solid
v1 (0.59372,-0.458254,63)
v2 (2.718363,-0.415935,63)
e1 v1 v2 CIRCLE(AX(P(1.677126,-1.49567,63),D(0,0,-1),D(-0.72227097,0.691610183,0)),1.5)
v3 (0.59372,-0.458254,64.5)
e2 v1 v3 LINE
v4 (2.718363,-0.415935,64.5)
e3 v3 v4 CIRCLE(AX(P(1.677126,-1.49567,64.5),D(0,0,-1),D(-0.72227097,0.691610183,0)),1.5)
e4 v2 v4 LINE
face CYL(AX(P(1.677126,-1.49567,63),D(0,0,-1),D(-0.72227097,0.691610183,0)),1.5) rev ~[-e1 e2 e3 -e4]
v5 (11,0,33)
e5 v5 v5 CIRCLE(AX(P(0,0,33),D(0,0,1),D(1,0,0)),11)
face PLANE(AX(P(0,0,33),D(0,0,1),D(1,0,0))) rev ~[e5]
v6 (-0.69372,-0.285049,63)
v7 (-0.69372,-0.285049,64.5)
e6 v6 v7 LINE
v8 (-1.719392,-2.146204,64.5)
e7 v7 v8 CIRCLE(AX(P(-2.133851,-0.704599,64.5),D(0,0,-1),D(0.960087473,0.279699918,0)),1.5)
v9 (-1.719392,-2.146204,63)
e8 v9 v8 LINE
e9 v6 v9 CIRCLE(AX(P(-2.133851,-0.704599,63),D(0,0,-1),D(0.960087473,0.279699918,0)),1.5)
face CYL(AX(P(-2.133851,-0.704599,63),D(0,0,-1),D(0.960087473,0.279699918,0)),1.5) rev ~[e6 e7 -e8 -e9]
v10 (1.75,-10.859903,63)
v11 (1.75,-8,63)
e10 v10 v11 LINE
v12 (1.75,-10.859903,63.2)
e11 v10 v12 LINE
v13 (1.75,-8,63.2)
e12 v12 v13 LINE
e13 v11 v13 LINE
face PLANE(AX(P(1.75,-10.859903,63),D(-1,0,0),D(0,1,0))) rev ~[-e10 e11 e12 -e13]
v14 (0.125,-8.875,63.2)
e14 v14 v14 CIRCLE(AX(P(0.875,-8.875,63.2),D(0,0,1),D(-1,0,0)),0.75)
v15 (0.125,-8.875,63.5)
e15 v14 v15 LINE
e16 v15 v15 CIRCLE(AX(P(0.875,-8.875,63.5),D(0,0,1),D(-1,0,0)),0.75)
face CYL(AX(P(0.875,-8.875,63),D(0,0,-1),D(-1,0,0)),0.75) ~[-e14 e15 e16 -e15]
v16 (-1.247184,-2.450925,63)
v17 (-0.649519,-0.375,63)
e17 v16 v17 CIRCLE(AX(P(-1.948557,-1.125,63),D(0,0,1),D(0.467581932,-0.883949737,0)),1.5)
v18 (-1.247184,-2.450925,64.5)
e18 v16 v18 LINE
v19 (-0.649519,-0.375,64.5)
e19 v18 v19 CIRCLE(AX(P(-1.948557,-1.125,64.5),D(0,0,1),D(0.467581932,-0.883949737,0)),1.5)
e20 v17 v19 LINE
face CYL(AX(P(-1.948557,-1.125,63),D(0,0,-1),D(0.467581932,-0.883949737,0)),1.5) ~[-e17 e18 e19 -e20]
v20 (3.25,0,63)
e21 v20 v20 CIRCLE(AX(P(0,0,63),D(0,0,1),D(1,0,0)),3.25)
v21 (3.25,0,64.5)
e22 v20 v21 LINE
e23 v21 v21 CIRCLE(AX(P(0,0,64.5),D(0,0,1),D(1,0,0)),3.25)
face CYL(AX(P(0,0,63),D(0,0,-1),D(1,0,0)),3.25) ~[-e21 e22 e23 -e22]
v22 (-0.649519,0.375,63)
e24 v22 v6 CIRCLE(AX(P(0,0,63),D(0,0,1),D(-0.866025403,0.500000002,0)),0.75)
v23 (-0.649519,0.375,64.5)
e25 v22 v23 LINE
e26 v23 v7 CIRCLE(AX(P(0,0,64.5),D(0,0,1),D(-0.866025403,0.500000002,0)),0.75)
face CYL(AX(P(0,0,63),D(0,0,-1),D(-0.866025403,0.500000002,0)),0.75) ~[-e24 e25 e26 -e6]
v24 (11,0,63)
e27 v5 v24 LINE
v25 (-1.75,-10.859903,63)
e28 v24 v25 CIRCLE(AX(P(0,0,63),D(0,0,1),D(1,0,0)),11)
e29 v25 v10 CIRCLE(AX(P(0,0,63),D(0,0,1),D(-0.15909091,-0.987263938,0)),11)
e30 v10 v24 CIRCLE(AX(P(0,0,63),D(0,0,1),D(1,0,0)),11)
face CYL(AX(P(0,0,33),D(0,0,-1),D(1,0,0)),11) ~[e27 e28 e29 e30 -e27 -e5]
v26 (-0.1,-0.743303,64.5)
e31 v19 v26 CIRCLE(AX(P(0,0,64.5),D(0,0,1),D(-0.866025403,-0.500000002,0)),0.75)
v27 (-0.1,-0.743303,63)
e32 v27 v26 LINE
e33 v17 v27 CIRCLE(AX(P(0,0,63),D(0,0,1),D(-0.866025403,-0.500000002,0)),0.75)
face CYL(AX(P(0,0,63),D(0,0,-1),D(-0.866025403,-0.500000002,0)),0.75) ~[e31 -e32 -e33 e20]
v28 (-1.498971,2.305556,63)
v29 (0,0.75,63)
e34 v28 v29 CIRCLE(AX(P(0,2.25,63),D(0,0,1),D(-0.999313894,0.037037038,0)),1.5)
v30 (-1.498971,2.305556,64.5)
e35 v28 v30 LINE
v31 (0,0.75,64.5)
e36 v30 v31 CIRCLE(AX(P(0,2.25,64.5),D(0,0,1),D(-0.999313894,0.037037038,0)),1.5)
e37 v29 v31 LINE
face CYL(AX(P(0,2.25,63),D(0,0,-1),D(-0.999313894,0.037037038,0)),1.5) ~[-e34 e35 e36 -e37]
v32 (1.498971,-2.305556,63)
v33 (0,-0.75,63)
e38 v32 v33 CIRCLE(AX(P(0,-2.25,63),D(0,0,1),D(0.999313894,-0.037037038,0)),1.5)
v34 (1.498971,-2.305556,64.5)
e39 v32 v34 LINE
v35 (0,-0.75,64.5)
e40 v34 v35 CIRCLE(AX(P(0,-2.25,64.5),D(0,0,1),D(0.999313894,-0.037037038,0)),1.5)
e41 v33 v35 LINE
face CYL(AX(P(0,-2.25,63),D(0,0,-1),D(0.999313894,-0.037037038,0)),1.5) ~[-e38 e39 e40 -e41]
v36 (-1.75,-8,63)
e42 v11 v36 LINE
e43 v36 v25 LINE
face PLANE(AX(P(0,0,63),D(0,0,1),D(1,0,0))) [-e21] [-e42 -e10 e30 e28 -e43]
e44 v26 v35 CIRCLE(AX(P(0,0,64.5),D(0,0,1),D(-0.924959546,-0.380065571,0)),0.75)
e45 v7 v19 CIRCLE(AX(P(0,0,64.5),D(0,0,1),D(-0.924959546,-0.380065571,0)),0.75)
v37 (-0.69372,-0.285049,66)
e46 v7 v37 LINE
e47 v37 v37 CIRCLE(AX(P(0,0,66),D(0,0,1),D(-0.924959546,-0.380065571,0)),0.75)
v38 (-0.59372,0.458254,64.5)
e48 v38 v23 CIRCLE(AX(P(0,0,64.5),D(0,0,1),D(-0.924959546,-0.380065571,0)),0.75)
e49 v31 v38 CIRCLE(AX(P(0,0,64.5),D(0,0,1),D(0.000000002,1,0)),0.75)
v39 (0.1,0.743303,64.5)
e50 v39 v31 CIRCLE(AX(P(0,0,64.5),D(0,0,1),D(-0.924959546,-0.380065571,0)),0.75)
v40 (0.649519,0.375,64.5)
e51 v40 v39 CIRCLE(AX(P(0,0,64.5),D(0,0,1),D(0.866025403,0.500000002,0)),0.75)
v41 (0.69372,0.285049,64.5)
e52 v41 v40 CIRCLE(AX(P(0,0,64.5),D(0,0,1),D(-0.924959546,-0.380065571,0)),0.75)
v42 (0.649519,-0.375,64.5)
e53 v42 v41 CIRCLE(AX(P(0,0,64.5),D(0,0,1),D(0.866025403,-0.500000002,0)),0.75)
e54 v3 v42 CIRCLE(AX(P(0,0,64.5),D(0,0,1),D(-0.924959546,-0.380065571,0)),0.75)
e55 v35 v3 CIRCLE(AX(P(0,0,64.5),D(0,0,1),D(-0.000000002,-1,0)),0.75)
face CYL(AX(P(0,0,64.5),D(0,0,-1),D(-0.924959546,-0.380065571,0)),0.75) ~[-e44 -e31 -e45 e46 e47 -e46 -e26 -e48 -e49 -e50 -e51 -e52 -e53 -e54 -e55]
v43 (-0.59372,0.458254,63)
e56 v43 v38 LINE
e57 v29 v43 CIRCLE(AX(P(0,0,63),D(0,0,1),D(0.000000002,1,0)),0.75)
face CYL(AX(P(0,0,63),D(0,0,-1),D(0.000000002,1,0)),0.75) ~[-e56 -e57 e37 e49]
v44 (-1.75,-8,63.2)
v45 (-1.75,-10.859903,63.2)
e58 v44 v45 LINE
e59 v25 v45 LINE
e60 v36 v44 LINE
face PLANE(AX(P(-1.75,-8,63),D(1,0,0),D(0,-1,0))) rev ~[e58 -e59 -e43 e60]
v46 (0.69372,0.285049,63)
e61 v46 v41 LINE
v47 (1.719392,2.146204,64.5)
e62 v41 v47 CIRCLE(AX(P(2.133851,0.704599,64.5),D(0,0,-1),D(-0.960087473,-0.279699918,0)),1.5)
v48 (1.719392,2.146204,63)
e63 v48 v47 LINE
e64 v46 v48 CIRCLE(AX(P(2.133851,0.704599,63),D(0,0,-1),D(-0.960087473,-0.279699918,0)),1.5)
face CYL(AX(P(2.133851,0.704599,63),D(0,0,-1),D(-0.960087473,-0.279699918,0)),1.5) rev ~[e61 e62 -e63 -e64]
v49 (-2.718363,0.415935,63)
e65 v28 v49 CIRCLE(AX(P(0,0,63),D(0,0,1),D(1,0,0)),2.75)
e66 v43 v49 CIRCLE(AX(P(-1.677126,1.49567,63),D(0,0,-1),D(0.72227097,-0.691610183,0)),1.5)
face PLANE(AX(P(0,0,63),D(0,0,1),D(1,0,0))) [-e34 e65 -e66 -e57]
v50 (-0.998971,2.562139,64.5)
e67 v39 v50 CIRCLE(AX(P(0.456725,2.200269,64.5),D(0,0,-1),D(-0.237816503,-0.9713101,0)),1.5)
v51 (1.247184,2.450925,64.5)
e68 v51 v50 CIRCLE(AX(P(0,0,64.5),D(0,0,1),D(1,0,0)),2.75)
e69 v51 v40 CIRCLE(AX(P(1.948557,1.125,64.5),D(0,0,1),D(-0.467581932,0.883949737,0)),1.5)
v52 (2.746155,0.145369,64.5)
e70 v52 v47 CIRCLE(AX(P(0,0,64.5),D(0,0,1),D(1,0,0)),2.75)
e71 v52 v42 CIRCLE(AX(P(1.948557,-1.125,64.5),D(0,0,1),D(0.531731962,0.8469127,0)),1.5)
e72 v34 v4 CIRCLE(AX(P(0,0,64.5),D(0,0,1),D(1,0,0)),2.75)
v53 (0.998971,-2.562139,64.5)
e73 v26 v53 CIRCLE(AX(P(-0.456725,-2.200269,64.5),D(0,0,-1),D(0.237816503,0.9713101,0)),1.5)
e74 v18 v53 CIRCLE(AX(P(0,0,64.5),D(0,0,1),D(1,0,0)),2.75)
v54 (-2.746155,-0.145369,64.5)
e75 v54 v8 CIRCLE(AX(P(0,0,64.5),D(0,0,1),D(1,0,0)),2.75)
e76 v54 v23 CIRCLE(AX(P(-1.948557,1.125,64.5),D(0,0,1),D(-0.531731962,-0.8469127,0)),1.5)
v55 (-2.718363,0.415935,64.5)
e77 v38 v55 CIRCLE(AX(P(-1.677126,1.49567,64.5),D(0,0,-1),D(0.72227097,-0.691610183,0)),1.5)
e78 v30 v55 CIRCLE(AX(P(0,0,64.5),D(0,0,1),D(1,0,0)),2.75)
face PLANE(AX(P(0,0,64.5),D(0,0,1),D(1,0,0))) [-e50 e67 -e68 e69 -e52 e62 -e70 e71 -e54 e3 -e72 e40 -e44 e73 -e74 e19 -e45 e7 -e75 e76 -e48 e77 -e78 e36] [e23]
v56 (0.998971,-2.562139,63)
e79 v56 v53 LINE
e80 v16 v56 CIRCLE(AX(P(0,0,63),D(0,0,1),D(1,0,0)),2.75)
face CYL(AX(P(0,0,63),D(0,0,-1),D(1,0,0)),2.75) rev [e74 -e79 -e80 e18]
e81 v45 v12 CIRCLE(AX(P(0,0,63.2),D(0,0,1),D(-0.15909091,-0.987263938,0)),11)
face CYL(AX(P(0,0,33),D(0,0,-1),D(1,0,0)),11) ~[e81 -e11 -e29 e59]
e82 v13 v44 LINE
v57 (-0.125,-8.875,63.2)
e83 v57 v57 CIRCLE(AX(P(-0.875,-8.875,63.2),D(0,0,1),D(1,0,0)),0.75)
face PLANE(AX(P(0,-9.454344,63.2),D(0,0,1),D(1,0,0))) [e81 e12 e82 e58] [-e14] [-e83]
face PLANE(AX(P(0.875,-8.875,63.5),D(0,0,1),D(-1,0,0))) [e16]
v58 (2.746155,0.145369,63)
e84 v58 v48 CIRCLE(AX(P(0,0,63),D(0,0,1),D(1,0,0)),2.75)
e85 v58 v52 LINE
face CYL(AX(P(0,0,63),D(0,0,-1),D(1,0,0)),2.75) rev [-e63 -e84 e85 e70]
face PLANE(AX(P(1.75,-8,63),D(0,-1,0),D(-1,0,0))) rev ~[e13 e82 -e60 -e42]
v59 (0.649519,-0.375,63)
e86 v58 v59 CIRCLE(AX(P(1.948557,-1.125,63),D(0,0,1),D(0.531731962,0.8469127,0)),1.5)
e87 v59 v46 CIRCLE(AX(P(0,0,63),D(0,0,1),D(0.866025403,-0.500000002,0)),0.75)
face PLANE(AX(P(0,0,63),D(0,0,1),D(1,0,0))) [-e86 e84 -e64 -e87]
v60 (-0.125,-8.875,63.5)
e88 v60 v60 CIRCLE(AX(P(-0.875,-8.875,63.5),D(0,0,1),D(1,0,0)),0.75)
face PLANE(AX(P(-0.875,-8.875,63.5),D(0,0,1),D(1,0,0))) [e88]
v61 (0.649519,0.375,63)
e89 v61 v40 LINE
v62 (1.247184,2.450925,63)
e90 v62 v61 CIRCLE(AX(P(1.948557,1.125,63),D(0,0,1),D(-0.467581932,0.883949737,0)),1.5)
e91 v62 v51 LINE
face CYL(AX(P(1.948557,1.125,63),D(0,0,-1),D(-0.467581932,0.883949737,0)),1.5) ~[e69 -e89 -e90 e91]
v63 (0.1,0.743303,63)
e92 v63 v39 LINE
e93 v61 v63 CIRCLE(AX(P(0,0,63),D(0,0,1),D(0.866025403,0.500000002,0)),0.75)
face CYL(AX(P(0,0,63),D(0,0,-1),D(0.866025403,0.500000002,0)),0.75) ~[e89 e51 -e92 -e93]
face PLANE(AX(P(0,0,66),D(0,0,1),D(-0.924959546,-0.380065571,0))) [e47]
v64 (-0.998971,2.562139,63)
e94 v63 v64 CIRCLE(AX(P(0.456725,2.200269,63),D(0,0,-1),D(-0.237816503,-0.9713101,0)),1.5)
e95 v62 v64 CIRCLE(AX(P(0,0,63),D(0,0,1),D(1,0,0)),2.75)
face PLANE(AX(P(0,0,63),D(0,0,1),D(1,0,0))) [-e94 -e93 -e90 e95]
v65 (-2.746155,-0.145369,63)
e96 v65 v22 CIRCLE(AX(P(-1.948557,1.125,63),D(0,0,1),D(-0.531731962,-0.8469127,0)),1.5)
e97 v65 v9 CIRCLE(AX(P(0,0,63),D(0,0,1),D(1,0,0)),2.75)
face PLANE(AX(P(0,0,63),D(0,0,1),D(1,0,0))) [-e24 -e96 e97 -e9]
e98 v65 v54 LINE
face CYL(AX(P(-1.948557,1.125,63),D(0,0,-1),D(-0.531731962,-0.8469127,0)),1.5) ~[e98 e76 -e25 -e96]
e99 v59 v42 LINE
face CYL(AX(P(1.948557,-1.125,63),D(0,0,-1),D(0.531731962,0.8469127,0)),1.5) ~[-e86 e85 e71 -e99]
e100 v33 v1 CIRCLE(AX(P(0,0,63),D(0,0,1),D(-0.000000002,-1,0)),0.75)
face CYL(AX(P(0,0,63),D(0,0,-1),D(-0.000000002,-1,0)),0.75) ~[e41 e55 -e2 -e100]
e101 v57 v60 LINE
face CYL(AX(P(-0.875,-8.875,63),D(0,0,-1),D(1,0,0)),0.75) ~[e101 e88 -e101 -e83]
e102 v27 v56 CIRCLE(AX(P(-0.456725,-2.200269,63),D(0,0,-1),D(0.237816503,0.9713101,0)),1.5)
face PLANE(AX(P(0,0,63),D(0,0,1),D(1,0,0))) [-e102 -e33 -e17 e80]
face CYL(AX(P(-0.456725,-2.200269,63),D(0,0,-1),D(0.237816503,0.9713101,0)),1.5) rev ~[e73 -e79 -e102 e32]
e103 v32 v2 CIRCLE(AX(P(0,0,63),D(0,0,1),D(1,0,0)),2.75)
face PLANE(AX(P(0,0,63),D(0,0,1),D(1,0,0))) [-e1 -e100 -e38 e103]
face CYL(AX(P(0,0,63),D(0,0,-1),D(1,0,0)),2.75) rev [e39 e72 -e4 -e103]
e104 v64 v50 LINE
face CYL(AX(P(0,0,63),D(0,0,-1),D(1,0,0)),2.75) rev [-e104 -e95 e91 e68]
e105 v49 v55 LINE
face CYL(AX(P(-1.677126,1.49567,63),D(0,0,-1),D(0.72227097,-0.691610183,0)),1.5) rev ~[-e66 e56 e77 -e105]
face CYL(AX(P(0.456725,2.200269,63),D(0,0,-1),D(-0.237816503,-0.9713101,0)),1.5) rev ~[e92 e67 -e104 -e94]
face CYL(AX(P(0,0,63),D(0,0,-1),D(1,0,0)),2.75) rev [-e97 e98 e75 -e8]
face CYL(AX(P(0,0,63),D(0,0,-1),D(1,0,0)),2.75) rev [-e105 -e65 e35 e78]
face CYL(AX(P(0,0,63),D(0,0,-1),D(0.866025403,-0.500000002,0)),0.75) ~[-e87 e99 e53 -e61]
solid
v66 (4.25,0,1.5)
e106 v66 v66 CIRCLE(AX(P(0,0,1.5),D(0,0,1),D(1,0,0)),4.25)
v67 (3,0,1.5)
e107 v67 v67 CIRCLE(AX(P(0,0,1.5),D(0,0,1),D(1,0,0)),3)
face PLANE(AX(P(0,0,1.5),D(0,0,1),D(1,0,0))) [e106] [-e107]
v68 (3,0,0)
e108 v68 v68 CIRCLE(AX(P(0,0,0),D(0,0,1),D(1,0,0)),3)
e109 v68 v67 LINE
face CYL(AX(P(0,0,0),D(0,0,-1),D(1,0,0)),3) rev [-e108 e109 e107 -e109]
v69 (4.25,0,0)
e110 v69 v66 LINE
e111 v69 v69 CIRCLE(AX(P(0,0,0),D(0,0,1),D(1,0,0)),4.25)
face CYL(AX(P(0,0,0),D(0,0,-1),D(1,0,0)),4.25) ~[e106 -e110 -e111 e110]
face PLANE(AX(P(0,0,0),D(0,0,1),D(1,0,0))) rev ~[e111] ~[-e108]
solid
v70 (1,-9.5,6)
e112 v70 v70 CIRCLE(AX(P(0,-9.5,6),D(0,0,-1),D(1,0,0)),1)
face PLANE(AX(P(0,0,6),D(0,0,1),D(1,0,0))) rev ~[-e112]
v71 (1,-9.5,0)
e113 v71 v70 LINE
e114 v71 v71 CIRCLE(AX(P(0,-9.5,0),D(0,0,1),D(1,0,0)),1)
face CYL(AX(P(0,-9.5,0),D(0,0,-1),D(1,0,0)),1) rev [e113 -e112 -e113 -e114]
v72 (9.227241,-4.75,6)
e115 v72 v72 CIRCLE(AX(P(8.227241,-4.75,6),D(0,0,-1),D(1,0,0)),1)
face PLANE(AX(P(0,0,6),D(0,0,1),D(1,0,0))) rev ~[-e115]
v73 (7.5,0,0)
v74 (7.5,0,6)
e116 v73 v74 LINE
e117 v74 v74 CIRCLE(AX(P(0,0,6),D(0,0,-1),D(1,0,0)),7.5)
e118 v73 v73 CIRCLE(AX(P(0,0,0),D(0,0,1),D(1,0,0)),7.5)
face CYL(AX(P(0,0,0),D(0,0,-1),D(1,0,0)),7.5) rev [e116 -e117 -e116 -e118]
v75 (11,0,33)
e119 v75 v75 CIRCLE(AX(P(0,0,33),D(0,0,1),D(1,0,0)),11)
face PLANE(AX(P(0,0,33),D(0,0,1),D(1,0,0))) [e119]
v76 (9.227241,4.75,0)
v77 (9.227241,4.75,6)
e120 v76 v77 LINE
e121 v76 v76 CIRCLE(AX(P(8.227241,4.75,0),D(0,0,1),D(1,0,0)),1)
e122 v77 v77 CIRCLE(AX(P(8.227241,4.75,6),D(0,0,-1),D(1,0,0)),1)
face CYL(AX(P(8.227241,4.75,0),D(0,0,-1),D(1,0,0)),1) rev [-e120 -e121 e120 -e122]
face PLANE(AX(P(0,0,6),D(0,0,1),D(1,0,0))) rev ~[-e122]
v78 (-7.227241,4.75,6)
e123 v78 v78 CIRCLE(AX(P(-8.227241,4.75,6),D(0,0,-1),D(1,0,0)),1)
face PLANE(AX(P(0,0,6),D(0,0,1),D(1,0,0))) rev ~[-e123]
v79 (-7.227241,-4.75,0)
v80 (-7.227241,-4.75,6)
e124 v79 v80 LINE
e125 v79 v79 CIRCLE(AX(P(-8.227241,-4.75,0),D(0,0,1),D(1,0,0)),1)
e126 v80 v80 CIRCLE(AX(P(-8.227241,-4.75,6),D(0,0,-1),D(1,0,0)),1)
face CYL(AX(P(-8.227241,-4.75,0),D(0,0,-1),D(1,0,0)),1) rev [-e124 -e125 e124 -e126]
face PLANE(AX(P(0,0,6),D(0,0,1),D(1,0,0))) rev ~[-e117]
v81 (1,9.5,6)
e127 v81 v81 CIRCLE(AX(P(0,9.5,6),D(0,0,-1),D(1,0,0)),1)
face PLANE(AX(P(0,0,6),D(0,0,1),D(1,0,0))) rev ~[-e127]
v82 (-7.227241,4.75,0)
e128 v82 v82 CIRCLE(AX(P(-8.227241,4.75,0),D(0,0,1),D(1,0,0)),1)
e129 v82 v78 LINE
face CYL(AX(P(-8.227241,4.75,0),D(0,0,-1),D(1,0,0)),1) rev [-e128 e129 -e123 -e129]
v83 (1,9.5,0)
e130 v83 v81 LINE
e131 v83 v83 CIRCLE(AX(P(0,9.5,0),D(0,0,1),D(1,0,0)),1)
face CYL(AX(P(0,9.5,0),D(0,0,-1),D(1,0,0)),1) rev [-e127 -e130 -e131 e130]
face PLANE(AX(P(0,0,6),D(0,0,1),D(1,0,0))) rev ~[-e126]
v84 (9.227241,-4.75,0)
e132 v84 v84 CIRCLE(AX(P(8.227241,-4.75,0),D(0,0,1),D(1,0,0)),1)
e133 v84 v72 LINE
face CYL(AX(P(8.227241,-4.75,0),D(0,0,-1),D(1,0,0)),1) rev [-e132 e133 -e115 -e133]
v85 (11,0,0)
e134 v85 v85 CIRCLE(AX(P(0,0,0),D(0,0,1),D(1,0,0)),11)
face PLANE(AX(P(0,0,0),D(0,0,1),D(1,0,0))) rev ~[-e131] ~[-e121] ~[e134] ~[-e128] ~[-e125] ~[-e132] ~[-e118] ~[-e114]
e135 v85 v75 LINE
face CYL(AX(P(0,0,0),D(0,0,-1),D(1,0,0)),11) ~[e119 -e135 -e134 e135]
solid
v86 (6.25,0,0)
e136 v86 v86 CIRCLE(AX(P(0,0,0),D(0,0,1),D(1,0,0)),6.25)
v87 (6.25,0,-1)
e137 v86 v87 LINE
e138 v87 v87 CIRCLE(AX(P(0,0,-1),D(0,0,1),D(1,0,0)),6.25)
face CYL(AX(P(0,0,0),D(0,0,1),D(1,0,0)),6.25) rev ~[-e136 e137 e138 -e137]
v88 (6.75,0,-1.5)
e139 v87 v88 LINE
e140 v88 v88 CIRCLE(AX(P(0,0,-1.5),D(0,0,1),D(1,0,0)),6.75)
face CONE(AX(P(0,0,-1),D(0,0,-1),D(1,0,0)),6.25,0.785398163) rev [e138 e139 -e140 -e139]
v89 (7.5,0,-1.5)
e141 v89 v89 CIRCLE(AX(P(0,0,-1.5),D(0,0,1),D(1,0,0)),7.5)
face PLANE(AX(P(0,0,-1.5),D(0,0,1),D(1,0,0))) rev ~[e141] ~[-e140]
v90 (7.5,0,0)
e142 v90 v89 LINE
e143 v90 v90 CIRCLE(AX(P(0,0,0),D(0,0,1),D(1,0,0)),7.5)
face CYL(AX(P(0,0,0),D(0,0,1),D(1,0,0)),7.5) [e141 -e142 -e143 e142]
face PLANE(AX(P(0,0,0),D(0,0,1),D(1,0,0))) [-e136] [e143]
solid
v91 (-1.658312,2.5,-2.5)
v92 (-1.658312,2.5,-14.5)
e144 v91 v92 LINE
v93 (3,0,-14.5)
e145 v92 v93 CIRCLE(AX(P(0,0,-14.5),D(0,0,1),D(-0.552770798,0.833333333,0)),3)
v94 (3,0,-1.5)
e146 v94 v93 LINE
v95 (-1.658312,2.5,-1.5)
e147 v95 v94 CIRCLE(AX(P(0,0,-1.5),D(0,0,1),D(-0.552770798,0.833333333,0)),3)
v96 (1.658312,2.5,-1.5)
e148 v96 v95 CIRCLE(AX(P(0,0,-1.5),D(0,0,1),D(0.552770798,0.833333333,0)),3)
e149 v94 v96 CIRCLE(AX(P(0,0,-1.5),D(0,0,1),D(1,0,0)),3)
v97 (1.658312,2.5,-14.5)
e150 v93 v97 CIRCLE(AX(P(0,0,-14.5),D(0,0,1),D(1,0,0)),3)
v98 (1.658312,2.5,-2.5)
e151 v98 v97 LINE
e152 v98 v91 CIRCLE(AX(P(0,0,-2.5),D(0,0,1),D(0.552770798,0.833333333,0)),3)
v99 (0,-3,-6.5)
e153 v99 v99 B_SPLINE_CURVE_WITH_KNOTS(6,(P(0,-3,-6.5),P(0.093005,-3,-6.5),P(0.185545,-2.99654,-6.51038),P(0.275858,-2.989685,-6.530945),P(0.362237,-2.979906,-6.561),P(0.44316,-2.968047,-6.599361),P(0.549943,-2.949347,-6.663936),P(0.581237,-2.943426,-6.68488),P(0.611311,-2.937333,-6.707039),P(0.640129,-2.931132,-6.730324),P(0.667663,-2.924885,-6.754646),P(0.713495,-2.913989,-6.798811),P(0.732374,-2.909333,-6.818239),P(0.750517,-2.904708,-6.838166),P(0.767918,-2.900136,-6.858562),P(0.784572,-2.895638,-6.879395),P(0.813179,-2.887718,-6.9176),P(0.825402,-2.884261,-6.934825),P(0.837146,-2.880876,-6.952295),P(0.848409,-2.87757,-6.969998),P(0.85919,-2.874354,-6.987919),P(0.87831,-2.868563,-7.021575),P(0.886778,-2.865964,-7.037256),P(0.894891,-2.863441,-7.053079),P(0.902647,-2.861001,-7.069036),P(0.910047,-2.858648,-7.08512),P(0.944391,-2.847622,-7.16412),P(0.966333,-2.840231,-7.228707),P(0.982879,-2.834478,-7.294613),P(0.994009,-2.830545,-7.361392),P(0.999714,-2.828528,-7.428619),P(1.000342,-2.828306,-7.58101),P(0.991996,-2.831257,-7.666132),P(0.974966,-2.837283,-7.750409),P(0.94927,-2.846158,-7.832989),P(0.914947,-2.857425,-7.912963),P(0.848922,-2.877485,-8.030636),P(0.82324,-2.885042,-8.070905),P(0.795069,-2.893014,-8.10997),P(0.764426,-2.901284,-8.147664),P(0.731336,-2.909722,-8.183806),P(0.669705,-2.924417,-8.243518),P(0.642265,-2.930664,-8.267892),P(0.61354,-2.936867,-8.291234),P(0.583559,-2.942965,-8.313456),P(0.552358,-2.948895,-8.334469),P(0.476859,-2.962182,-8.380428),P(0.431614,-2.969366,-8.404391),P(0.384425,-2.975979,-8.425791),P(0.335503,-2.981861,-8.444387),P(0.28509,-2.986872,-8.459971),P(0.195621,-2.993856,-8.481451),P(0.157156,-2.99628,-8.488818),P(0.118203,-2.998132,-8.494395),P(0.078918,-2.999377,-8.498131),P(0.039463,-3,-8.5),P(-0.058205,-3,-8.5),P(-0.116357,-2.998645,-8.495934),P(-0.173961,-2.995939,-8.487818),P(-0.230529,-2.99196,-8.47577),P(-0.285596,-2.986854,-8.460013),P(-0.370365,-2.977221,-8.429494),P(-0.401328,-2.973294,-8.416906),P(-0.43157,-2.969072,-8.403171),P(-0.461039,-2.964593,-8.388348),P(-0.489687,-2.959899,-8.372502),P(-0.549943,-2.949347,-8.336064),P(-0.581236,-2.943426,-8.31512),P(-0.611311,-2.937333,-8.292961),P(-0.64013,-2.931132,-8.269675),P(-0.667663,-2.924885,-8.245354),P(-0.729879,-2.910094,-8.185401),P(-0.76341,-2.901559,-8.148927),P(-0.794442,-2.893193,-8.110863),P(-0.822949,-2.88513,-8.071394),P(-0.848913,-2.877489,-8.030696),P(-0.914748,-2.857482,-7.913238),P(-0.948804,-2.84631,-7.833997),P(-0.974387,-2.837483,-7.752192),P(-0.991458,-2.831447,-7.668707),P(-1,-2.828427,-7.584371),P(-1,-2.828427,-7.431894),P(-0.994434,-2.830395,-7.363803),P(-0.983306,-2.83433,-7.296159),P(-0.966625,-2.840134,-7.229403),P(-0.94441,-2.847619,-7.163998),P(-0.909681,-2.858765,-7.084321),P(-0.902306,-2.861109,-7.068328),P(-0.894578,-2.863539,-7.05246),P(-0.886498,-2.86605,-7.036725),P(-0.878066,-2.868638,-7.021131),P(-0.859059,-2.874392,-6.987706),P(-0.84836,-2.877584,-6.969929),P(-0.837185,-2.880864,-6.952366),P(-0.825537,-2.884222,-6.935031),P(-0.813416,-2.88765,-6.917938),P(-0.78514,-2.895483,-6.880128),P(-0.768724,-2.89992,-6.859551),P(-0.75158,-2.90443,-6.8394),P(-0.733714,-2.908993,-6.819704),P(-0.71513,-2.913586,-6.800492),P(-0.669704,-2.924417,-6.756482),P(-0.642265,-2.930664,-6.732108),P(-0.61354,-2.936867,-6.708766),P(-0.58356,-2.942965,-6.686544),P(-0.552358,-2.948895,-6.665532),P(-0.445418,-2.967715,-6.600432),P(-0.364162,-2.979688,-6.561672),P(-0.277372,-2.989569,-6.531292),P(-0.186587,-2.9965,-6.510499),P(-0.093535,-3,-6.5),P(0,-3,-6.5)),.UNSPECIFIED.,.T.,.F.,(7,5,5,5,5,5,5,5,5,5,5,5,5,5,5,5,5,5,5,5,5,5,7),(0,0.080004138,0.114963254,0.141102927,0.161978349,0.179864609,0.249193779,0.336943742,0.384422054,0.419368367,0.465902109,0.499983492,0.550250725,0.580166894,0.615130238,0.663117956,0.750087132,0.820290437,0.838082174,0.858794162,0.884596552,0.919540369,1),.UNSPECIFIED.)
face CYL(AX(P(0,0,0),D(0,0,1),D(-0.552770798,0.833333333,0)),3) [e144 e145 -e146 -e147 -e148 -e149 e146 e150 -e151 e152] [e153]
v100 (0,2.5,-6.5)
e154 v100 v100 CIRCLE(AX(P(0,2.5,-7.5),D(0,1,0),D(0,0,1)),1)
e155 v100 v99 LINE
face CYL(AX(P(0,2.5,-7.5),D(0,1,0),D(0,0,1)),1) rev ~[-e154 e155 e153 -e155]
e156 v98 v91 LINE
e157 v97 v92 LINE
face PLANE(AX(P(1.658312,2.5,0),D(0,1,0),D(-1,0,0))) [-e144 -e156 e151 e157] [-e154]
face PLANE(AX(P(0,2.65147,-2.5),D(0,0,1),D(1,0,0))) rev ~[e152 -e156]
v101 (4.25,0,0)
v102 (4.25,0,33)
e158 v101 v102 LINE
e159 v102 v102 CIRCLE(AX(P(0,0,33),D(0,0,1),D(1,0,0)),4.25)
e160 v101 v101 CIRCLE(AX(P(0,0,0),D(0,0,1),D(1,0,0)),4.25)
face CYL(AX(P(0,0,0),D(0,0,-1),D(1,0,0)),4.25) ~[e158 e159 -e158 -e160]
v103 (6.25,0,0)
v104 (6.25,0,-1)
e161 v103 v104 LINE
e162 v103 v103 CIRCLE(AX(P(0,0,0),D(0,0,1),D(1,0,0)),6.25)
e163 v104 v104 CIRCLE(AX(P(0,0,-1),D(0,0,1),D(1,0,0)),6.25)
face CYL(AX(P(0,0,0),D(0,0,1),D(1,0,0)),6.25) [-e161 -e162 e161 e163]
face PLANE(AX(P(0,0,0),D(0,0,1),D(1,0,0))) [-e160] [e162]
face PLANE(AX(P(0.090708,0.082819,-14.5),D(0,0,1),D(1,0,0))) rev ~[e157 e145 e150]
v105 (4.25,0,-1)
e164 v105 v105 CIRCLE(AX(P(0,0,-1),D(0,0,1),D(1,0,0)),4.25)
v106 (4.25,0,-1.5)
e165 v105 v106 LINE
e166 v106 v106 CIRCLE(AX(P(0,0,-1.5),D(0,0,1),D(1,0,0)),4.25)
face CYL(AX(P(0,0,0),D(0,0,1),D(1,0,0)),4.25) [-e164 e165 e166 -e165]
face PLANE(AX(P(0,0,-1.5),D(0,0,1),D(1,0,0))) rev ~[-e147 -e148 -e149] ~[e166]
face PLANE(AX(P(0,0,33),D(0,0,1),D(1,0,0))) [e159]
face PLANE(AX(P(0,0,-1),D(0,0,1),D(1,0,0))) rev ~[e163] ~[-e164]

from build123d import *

# Parameters (mm, degrees)
ESQUISSE1_R                  = 11
ESQUISSE1_R_2                = 7.5
ESQUISSE1_R_3                = 1
BOSS_EXTRU_1_DEPTH           = 33
ESQUISSE1_R_4                = 4.25
BOSS_EXTRU_1_2_DEPTH         = 33
ESQUISSE1_3_R                = 4.25
BOSS_EXTRU_2_DEPTH           = 1.5
BOSS_EXTRU_3_DEPTH           = 2.5
BOSS_EXTRU_4_DEPTH           = 14.5
ESQUISSE1_7_R                = 7.5
ESQUISSE1_7_R_2              = 6.25
BOSS_EXTRU_5_DEPTH           = 1.5
ESQUISSE1_6_R                = 6.25
BOSS_EXTRU_6_DEPTH           = 1
ESQUISSE1_8_R                = 4.25
ESQUISSE1_8_R_2              = 3
BOSS_EXTRU_7_DEPTH           = 1.5
ENL_V_MAT_EXTRU_1_REACH      = 39.313
ENL_V_MAT_EXTRU_1_END_RADIUS = 3
ESQUISSE2_R                  = 1
ESQUISSE3_R                  = 11
BOSS_EXTRU_8_DEPTH           = 30
ESQUISSE3_2_R                = 11
BOSS_EXTRU_9_DEPTH           = 27
ESQUISSE4_R                  = 3.25
ESQUISSE4_R_2                = 2.75
BOSS_EXTRU_10_DEPTH          = 1.5
ESQUISSE5_R                  = 0.75
BOSS_EXTRU_11_DEPTH          = 1.5
CHANFREIN1_SIZE              = 0.5
ESQUISSE6_R                  = 0.75
BOSS_EXTRU_15_DEPTH          = 0.2
ESQUISSE6_4_R                = 0.75
BOSS_EXTRU_16_DEPTH          = 0.5
ESQUISSE6_5_R                = 0.75
BOSS_EXTRU_17_DEPTH          = 0.5


with BuildPart() as part:
    # Esquisse1 → Boss.-Extru.1 (new body)
    with BuildSketch(Plane.XY):
        Circle(ESQUISSE1_R)
        Circle(ESQUISSE1_R_2, mode=Mode.SUBTRACT)
        with Locations((0, 9.5)):
            Circle(ESQUISSE1_R_3, mode=Mode.SUBTRACT)
        with Locations((8.227241336, 4.75)):
            Circle(ESQUISSE1_R_3, mode=Mode.SUBTRACT)
        with Locations((8.227241336, -4.75)):
            Circle(ESQUISSE1_R_3, mode=Mode.SUBTRACT)
        with Locations((0, -9.5)):
            Circle(ESQUISSE1_R_3, mode=Mode.SUBTRACT)
        with Locations((-8.227241336, -4.75)):
            Circle(ESQUISSE1_R_3, mode=Mode.SUBTRACT)
        with Locations((-8.227241336, 4.75)):
            Circle(ESQUISSE1_R_3, mode=Mode.SUBTRACT)
    extrude(amount=BOSS_EXTRU_1_DEPTH)

    # Esquisse3<2> → Boss.-Extru.9 (add)
    with BuildSketch(Plane.XY.offset(33)):
        Circle(ESQUISSE3_2_R)
    extrude(amount=-BOSS_EXTRU_9_DEPTH)


with BuildPart() as body_2:
    # Esquisse1 → Boss.-Extru.1 2 (new body)
    with BuildSketch(Plane.XY):
        Circle(ESQUISSE1_R_4)
    extrude(amount=BOSS_EXTRU_1_2_DEPTH)


with BuildPart() as body_3:
    # Esquisse1<3> → Boss.-Extru.2 (new body)
    with BuildSketch(Plane.XY):
        Circle(ESQUISSE1_3_R)
    extrude(amount=-BOSS_EXTRU_2_DEPTH)



with BuildPart() as body_4:
    # Esquisse1<4> → Boss.-Extru.3 (new body)
    with BuildSketch(Plane.XY):
        with BuildLine():
            ThreePointArc((1.658312395, 2.5), (0, 3), (-1.658312395, 2.5))
            Line((-1.658312395, 2.5), (1.658312395, 2.5))
        make_face()
        with BuildLine():
            Line((1.658312395, 2.5), (-1.658312395, 2.5))
            ThreePointArc((-1.658312395, 2.5), (-1.418637165, -2.643382037), (3, 0))
            ThreePointArc((3, 0), (2.643382037, 1.418637165), (1.658312395, 2.5))
        make_face()
    extrude(amount=-BOSS_EXTRU_3_DEPTH)


with BuildPart() as body_5:
    # Esquisse1<5> → Boss.-Extru.4 (new body)
    with BuildSketch(Plane.XY):
        with BuildLine():
            Line((1.658312395, 2.5), (-1.658312395, 2.5))
            ThreePointArc((-1.658312395, 2.5), (-1.418637165, -2.643382037), (3, 0))
            ThreePointArc((3, 0), (2.643382037, 1.418637165), (1.658312395, 2.5))
        make_face()
    extrude(amount=-BOSS_EXTRU_4_DEPTH)


with BuildPart() as body_6:
    # Esquisse1<7> → Boss.-Extru.5 (new body)
    with BuildSketch(Plane.XY):
        Circle(ESQUISSE1_7_R)
        Circle(ESQUISSE1_7_R_2, mode=Mode.SUBTRACT)
    extrude(amount=-BOSS_EXTRU_5_DEPTH)

    # Chanfrein1
    chanfrein1_edges = [body_6.edges().sort_by_distance(p)[0] for p in [
        (-6.25, 0, -1.5),
    ]]
    chamfer(chanfrein1_edges, length=CHANFREIN1_SIZE)


with BuildPart() as body_3_1:
    add(body_3.part)

    add(body_4.part)  # Boss.-Extru.6 merges body 4

    add(body_5.part)  # Boss.-Extru.6 merges body 5

    add(body_2.part)  # Boss.-Extru.6 merges body 2
    # Esquisse1<6> → Boss.-Extru.6 (add)
    with BuildSketch(Plane.XY):
        Circle(ESQUISSE1_6_R)
    extrude(amount=-BOSS_EXTRU_6_DEPTH)

    # Enlèv. mat.-Extru.1: up to this cylinder (the profile starts inside it)
    enl_v_mat_extru_1_end = Plane(origin=(0, 0, -7.5), z_dir=(0, 0, 1)) * Cylinder(ENL_V_MAT_EXTRU_1_END_RADIUS, 85.626, mode=Mode.PRIVATE)
    # Esquisse2 → Enlèv. mat.-Extru.1 (cut, up to the surface)
    with BuildSketch(Plane(origin=(0, 2.5, 0), x_dir=(1, 0, 0), z_dir=(0, 1, 0)), mode=Mode.PRIVATE) as enl_v_mat_extru_1_sk1:
        with Locations(Location((0, 7.5, 0), (0, 0, 270))):
            Circle(ESQUISSE2_R)
    enl_v_mat_extru_1_tool1 = extrude(enl_v_mat_extru_1_sk1.sketch, amount=-ENL_V_MAT_EXTRU_1_REACH, mode=Mode.PRIVATE) & enl_v_mat_extru_1_end
    add(enl_v_mat_extru_1_tool1.solids().sort_by_distance((0, 2.5, -7.5))[0], mode=Mode.SUBTRACT)


with BuildPart() as body_4_2:
    # Esquisse1<8> → Boss.-Extru.7 (new body)
    with BuildSketch(Plane.XY):
        Circle(ESQUISSE1_8_R)
        Circle(ESQUISSE1_8_R_2, mode=Mode.SUBTRACT)
    extrude(amount=BOSS_EXTRU_7_DEPTH)


with BuildPart() as body_5_2:
    # Esquisse3 → Boss.-Extru.8 (new body)
    with BuildSketch(Plane.XY.offset(33)):
        Circle(ESQUISSE3_R)
    extrude(amount=BOSS_EXTRU_8_DEPTH)

    # Esquisse4 → Boss.-Extru.10 (add)
    with BuildSketch(Plane.XY.offset(63)):
        Circle(ESQUISSE4_R)
        Circle(ESQUISSE4_R_2, mode=Mode.SUBTRACT)
        with BuildLine():
            ThreePointArc((2.718363052, -0.415935473), (2.742079356, -0.208568462), (2.75, 0))
            ThreePointArc((2.75, 0), (2.749038607, 0.072709944), (2.746155101, 0.14536905))
            ThreePointArc((2.746155101, 0.14536905), (1.587231065, 0.330830847), (0.649519053, -0.375))
            ThreePointArc((0.649519053, -0.375), (0.748323987, -0.050111984), (0.693719659, 0.285049178))
            ThreePointArc((0.693719659, 0.285049178), (0.820134783, 1.42858113), (1.719392212, 2.146203723))
            ThreePointArc((1.719392212, 2.146203723), (1.491092786, 2.310658414), (1.247184261, 2.450924605))
            ThreePointArc((1.247184261, 2.450924605), (0.507107615, 1.539997847), (0.649519053, 0.375))
            ThreePointArc((0.649519053, 0.375), (0.417560245, 0.62301159), (0.1, 0.743303437))
            ThreePointArc((0.1, 0.743303437), (-0.827120158, 1.424548122), (-0.99897084, 2.562139196))
            ThreePointArc((-0.99897084, 2.562139196), (-1.255542493, 2.446653439), (-1.49897084, 2.305555556))
            ThreePointArc((-1.49897084, 2.305555556), (-1.08012345, 1.209167), (0, 0.75))
            ThreePointArc((0, 0.75), (-0.330763742, 0.673123575), (-0.593719659, 0.458254259))
            ThreePointArc((-0.593719659, 0.458254259), (-1.647254942, -0.004033008), (-2.718363052, 0.415935473))
            ThreePointArc((-2.718363052, 0.415935473), (-2.746635279, 0.135995025), (-2.746155101, -0.14536905))
            ThreePointArc((-2.746155101, -0.14536905), (-1.587231065, -0.330830847), (-0.649519053, 0.375))
            ThreePointArc((-0.649519053, 0.375), (-0.748323987, 0.050111984), (-0.693719659, -0.285049178))
            ThreePointArc((-0.693719659, -0.285049178), (-0.820134783, -1.42858113), (-1.719392212, -2.146203723))
            ThreePointArc((-1.719392212, -2.146203723), (-1.491092786, -2.310658414), (-1.247184261, -2.450924605))
            ThreePointArc((-1.247184261, -2.450924605), (-0.507107615, -1.539997847), (-0.649519053, -0.375))
            ThreePointArc((-0.649519053, -0.375), (-0.417560245, -0.62301159), (-0.1, -0.743303437))
            ThreePointArc((-0.1, -0.743303437), (0.827120158, -1.424548122), (0.99897084, -2.562139196))
            ThreePointArc((0.99897084, -2.562139196), (1.255542493, -2.446653439), (1.49897084, -2.305555556))
            ThreePointArc((1.49897084, -2.305555556), (1.08012345, -1.209167), (0, -0.75))
            ThreePointArc((0, -0.75), (0.330763742, -0.673123575), (0.593719659, -0.458254259))
            ThreePointArc((0.593719659, -0.458254259), (1.647254942, 0.004033008), (2.718363052, -0.415935473))
        make_face()
    extrude(amount=BOSS_EXTRU_10_DEPTH)

    # Esquisse5 → Boss.-Extru.11 (add)
    with BuildSketch(Plane.XY.offset(64.5)):
        with Locations(Location((0, 0, 0), (0, 0, 202.337744339))):
            Circle(ESQUISSE5_R)
    extrude(amount=BOSS_EXTRU_11_DEPTH)

    # Esquisse6 → Boss.-Extru.15 (add)
    with BuildSketch(Plane.XY.offset(63)):
        with BuildLine():
            Line((1.75, -8), (-1.75, -8))
            Line((-1.75, -8), (-1.75, -10.859903314))
            ThreePointArc((-1.75, -10.859903314), (0, -11), (1.75, -10.859903314))
            Line((1.75, -10.859903314), (1.75, -8))
        make_face()
        with Locations((-0.875, -8.875)):
            Circle(ESQUISSE6_R, mode=Mode.SUBTRACT)
        with Locations(Location((0.875, -8.875, 0), (0, 0, 180))):
            Circle(ESQUISSE6_R, mode=Mode.SUBTRACT)
    extrude(amount=BOSS_EXTRU_15_DEPTH)

    # Esquisse6<4> → Boss.-Extru.16 (add)
    with BuildSketch(Plane.XY.offset(63)):
        with Locations((-0.875, -8.875)):
            Circle(ESQUISSE6_4_R)
    extrude(amount=BOSS_EXTRU_16_DEPTH)

    # Esquisse6<5> → Boss.-Extru.17 (add)
    with BuildSketch(Plane.XY.offset(63)):
        with Locations(Location((0.875, -8.875, 0), (0, 0, 180))):
            Circle(ESQUISSE6_5_R)
    extrude(amount=BOSS_EXTRU_17_DEPTH)


solid = Compound([part.part, body_6.part, body_3_1.part, body_4_2.part, body_5_2.part])
